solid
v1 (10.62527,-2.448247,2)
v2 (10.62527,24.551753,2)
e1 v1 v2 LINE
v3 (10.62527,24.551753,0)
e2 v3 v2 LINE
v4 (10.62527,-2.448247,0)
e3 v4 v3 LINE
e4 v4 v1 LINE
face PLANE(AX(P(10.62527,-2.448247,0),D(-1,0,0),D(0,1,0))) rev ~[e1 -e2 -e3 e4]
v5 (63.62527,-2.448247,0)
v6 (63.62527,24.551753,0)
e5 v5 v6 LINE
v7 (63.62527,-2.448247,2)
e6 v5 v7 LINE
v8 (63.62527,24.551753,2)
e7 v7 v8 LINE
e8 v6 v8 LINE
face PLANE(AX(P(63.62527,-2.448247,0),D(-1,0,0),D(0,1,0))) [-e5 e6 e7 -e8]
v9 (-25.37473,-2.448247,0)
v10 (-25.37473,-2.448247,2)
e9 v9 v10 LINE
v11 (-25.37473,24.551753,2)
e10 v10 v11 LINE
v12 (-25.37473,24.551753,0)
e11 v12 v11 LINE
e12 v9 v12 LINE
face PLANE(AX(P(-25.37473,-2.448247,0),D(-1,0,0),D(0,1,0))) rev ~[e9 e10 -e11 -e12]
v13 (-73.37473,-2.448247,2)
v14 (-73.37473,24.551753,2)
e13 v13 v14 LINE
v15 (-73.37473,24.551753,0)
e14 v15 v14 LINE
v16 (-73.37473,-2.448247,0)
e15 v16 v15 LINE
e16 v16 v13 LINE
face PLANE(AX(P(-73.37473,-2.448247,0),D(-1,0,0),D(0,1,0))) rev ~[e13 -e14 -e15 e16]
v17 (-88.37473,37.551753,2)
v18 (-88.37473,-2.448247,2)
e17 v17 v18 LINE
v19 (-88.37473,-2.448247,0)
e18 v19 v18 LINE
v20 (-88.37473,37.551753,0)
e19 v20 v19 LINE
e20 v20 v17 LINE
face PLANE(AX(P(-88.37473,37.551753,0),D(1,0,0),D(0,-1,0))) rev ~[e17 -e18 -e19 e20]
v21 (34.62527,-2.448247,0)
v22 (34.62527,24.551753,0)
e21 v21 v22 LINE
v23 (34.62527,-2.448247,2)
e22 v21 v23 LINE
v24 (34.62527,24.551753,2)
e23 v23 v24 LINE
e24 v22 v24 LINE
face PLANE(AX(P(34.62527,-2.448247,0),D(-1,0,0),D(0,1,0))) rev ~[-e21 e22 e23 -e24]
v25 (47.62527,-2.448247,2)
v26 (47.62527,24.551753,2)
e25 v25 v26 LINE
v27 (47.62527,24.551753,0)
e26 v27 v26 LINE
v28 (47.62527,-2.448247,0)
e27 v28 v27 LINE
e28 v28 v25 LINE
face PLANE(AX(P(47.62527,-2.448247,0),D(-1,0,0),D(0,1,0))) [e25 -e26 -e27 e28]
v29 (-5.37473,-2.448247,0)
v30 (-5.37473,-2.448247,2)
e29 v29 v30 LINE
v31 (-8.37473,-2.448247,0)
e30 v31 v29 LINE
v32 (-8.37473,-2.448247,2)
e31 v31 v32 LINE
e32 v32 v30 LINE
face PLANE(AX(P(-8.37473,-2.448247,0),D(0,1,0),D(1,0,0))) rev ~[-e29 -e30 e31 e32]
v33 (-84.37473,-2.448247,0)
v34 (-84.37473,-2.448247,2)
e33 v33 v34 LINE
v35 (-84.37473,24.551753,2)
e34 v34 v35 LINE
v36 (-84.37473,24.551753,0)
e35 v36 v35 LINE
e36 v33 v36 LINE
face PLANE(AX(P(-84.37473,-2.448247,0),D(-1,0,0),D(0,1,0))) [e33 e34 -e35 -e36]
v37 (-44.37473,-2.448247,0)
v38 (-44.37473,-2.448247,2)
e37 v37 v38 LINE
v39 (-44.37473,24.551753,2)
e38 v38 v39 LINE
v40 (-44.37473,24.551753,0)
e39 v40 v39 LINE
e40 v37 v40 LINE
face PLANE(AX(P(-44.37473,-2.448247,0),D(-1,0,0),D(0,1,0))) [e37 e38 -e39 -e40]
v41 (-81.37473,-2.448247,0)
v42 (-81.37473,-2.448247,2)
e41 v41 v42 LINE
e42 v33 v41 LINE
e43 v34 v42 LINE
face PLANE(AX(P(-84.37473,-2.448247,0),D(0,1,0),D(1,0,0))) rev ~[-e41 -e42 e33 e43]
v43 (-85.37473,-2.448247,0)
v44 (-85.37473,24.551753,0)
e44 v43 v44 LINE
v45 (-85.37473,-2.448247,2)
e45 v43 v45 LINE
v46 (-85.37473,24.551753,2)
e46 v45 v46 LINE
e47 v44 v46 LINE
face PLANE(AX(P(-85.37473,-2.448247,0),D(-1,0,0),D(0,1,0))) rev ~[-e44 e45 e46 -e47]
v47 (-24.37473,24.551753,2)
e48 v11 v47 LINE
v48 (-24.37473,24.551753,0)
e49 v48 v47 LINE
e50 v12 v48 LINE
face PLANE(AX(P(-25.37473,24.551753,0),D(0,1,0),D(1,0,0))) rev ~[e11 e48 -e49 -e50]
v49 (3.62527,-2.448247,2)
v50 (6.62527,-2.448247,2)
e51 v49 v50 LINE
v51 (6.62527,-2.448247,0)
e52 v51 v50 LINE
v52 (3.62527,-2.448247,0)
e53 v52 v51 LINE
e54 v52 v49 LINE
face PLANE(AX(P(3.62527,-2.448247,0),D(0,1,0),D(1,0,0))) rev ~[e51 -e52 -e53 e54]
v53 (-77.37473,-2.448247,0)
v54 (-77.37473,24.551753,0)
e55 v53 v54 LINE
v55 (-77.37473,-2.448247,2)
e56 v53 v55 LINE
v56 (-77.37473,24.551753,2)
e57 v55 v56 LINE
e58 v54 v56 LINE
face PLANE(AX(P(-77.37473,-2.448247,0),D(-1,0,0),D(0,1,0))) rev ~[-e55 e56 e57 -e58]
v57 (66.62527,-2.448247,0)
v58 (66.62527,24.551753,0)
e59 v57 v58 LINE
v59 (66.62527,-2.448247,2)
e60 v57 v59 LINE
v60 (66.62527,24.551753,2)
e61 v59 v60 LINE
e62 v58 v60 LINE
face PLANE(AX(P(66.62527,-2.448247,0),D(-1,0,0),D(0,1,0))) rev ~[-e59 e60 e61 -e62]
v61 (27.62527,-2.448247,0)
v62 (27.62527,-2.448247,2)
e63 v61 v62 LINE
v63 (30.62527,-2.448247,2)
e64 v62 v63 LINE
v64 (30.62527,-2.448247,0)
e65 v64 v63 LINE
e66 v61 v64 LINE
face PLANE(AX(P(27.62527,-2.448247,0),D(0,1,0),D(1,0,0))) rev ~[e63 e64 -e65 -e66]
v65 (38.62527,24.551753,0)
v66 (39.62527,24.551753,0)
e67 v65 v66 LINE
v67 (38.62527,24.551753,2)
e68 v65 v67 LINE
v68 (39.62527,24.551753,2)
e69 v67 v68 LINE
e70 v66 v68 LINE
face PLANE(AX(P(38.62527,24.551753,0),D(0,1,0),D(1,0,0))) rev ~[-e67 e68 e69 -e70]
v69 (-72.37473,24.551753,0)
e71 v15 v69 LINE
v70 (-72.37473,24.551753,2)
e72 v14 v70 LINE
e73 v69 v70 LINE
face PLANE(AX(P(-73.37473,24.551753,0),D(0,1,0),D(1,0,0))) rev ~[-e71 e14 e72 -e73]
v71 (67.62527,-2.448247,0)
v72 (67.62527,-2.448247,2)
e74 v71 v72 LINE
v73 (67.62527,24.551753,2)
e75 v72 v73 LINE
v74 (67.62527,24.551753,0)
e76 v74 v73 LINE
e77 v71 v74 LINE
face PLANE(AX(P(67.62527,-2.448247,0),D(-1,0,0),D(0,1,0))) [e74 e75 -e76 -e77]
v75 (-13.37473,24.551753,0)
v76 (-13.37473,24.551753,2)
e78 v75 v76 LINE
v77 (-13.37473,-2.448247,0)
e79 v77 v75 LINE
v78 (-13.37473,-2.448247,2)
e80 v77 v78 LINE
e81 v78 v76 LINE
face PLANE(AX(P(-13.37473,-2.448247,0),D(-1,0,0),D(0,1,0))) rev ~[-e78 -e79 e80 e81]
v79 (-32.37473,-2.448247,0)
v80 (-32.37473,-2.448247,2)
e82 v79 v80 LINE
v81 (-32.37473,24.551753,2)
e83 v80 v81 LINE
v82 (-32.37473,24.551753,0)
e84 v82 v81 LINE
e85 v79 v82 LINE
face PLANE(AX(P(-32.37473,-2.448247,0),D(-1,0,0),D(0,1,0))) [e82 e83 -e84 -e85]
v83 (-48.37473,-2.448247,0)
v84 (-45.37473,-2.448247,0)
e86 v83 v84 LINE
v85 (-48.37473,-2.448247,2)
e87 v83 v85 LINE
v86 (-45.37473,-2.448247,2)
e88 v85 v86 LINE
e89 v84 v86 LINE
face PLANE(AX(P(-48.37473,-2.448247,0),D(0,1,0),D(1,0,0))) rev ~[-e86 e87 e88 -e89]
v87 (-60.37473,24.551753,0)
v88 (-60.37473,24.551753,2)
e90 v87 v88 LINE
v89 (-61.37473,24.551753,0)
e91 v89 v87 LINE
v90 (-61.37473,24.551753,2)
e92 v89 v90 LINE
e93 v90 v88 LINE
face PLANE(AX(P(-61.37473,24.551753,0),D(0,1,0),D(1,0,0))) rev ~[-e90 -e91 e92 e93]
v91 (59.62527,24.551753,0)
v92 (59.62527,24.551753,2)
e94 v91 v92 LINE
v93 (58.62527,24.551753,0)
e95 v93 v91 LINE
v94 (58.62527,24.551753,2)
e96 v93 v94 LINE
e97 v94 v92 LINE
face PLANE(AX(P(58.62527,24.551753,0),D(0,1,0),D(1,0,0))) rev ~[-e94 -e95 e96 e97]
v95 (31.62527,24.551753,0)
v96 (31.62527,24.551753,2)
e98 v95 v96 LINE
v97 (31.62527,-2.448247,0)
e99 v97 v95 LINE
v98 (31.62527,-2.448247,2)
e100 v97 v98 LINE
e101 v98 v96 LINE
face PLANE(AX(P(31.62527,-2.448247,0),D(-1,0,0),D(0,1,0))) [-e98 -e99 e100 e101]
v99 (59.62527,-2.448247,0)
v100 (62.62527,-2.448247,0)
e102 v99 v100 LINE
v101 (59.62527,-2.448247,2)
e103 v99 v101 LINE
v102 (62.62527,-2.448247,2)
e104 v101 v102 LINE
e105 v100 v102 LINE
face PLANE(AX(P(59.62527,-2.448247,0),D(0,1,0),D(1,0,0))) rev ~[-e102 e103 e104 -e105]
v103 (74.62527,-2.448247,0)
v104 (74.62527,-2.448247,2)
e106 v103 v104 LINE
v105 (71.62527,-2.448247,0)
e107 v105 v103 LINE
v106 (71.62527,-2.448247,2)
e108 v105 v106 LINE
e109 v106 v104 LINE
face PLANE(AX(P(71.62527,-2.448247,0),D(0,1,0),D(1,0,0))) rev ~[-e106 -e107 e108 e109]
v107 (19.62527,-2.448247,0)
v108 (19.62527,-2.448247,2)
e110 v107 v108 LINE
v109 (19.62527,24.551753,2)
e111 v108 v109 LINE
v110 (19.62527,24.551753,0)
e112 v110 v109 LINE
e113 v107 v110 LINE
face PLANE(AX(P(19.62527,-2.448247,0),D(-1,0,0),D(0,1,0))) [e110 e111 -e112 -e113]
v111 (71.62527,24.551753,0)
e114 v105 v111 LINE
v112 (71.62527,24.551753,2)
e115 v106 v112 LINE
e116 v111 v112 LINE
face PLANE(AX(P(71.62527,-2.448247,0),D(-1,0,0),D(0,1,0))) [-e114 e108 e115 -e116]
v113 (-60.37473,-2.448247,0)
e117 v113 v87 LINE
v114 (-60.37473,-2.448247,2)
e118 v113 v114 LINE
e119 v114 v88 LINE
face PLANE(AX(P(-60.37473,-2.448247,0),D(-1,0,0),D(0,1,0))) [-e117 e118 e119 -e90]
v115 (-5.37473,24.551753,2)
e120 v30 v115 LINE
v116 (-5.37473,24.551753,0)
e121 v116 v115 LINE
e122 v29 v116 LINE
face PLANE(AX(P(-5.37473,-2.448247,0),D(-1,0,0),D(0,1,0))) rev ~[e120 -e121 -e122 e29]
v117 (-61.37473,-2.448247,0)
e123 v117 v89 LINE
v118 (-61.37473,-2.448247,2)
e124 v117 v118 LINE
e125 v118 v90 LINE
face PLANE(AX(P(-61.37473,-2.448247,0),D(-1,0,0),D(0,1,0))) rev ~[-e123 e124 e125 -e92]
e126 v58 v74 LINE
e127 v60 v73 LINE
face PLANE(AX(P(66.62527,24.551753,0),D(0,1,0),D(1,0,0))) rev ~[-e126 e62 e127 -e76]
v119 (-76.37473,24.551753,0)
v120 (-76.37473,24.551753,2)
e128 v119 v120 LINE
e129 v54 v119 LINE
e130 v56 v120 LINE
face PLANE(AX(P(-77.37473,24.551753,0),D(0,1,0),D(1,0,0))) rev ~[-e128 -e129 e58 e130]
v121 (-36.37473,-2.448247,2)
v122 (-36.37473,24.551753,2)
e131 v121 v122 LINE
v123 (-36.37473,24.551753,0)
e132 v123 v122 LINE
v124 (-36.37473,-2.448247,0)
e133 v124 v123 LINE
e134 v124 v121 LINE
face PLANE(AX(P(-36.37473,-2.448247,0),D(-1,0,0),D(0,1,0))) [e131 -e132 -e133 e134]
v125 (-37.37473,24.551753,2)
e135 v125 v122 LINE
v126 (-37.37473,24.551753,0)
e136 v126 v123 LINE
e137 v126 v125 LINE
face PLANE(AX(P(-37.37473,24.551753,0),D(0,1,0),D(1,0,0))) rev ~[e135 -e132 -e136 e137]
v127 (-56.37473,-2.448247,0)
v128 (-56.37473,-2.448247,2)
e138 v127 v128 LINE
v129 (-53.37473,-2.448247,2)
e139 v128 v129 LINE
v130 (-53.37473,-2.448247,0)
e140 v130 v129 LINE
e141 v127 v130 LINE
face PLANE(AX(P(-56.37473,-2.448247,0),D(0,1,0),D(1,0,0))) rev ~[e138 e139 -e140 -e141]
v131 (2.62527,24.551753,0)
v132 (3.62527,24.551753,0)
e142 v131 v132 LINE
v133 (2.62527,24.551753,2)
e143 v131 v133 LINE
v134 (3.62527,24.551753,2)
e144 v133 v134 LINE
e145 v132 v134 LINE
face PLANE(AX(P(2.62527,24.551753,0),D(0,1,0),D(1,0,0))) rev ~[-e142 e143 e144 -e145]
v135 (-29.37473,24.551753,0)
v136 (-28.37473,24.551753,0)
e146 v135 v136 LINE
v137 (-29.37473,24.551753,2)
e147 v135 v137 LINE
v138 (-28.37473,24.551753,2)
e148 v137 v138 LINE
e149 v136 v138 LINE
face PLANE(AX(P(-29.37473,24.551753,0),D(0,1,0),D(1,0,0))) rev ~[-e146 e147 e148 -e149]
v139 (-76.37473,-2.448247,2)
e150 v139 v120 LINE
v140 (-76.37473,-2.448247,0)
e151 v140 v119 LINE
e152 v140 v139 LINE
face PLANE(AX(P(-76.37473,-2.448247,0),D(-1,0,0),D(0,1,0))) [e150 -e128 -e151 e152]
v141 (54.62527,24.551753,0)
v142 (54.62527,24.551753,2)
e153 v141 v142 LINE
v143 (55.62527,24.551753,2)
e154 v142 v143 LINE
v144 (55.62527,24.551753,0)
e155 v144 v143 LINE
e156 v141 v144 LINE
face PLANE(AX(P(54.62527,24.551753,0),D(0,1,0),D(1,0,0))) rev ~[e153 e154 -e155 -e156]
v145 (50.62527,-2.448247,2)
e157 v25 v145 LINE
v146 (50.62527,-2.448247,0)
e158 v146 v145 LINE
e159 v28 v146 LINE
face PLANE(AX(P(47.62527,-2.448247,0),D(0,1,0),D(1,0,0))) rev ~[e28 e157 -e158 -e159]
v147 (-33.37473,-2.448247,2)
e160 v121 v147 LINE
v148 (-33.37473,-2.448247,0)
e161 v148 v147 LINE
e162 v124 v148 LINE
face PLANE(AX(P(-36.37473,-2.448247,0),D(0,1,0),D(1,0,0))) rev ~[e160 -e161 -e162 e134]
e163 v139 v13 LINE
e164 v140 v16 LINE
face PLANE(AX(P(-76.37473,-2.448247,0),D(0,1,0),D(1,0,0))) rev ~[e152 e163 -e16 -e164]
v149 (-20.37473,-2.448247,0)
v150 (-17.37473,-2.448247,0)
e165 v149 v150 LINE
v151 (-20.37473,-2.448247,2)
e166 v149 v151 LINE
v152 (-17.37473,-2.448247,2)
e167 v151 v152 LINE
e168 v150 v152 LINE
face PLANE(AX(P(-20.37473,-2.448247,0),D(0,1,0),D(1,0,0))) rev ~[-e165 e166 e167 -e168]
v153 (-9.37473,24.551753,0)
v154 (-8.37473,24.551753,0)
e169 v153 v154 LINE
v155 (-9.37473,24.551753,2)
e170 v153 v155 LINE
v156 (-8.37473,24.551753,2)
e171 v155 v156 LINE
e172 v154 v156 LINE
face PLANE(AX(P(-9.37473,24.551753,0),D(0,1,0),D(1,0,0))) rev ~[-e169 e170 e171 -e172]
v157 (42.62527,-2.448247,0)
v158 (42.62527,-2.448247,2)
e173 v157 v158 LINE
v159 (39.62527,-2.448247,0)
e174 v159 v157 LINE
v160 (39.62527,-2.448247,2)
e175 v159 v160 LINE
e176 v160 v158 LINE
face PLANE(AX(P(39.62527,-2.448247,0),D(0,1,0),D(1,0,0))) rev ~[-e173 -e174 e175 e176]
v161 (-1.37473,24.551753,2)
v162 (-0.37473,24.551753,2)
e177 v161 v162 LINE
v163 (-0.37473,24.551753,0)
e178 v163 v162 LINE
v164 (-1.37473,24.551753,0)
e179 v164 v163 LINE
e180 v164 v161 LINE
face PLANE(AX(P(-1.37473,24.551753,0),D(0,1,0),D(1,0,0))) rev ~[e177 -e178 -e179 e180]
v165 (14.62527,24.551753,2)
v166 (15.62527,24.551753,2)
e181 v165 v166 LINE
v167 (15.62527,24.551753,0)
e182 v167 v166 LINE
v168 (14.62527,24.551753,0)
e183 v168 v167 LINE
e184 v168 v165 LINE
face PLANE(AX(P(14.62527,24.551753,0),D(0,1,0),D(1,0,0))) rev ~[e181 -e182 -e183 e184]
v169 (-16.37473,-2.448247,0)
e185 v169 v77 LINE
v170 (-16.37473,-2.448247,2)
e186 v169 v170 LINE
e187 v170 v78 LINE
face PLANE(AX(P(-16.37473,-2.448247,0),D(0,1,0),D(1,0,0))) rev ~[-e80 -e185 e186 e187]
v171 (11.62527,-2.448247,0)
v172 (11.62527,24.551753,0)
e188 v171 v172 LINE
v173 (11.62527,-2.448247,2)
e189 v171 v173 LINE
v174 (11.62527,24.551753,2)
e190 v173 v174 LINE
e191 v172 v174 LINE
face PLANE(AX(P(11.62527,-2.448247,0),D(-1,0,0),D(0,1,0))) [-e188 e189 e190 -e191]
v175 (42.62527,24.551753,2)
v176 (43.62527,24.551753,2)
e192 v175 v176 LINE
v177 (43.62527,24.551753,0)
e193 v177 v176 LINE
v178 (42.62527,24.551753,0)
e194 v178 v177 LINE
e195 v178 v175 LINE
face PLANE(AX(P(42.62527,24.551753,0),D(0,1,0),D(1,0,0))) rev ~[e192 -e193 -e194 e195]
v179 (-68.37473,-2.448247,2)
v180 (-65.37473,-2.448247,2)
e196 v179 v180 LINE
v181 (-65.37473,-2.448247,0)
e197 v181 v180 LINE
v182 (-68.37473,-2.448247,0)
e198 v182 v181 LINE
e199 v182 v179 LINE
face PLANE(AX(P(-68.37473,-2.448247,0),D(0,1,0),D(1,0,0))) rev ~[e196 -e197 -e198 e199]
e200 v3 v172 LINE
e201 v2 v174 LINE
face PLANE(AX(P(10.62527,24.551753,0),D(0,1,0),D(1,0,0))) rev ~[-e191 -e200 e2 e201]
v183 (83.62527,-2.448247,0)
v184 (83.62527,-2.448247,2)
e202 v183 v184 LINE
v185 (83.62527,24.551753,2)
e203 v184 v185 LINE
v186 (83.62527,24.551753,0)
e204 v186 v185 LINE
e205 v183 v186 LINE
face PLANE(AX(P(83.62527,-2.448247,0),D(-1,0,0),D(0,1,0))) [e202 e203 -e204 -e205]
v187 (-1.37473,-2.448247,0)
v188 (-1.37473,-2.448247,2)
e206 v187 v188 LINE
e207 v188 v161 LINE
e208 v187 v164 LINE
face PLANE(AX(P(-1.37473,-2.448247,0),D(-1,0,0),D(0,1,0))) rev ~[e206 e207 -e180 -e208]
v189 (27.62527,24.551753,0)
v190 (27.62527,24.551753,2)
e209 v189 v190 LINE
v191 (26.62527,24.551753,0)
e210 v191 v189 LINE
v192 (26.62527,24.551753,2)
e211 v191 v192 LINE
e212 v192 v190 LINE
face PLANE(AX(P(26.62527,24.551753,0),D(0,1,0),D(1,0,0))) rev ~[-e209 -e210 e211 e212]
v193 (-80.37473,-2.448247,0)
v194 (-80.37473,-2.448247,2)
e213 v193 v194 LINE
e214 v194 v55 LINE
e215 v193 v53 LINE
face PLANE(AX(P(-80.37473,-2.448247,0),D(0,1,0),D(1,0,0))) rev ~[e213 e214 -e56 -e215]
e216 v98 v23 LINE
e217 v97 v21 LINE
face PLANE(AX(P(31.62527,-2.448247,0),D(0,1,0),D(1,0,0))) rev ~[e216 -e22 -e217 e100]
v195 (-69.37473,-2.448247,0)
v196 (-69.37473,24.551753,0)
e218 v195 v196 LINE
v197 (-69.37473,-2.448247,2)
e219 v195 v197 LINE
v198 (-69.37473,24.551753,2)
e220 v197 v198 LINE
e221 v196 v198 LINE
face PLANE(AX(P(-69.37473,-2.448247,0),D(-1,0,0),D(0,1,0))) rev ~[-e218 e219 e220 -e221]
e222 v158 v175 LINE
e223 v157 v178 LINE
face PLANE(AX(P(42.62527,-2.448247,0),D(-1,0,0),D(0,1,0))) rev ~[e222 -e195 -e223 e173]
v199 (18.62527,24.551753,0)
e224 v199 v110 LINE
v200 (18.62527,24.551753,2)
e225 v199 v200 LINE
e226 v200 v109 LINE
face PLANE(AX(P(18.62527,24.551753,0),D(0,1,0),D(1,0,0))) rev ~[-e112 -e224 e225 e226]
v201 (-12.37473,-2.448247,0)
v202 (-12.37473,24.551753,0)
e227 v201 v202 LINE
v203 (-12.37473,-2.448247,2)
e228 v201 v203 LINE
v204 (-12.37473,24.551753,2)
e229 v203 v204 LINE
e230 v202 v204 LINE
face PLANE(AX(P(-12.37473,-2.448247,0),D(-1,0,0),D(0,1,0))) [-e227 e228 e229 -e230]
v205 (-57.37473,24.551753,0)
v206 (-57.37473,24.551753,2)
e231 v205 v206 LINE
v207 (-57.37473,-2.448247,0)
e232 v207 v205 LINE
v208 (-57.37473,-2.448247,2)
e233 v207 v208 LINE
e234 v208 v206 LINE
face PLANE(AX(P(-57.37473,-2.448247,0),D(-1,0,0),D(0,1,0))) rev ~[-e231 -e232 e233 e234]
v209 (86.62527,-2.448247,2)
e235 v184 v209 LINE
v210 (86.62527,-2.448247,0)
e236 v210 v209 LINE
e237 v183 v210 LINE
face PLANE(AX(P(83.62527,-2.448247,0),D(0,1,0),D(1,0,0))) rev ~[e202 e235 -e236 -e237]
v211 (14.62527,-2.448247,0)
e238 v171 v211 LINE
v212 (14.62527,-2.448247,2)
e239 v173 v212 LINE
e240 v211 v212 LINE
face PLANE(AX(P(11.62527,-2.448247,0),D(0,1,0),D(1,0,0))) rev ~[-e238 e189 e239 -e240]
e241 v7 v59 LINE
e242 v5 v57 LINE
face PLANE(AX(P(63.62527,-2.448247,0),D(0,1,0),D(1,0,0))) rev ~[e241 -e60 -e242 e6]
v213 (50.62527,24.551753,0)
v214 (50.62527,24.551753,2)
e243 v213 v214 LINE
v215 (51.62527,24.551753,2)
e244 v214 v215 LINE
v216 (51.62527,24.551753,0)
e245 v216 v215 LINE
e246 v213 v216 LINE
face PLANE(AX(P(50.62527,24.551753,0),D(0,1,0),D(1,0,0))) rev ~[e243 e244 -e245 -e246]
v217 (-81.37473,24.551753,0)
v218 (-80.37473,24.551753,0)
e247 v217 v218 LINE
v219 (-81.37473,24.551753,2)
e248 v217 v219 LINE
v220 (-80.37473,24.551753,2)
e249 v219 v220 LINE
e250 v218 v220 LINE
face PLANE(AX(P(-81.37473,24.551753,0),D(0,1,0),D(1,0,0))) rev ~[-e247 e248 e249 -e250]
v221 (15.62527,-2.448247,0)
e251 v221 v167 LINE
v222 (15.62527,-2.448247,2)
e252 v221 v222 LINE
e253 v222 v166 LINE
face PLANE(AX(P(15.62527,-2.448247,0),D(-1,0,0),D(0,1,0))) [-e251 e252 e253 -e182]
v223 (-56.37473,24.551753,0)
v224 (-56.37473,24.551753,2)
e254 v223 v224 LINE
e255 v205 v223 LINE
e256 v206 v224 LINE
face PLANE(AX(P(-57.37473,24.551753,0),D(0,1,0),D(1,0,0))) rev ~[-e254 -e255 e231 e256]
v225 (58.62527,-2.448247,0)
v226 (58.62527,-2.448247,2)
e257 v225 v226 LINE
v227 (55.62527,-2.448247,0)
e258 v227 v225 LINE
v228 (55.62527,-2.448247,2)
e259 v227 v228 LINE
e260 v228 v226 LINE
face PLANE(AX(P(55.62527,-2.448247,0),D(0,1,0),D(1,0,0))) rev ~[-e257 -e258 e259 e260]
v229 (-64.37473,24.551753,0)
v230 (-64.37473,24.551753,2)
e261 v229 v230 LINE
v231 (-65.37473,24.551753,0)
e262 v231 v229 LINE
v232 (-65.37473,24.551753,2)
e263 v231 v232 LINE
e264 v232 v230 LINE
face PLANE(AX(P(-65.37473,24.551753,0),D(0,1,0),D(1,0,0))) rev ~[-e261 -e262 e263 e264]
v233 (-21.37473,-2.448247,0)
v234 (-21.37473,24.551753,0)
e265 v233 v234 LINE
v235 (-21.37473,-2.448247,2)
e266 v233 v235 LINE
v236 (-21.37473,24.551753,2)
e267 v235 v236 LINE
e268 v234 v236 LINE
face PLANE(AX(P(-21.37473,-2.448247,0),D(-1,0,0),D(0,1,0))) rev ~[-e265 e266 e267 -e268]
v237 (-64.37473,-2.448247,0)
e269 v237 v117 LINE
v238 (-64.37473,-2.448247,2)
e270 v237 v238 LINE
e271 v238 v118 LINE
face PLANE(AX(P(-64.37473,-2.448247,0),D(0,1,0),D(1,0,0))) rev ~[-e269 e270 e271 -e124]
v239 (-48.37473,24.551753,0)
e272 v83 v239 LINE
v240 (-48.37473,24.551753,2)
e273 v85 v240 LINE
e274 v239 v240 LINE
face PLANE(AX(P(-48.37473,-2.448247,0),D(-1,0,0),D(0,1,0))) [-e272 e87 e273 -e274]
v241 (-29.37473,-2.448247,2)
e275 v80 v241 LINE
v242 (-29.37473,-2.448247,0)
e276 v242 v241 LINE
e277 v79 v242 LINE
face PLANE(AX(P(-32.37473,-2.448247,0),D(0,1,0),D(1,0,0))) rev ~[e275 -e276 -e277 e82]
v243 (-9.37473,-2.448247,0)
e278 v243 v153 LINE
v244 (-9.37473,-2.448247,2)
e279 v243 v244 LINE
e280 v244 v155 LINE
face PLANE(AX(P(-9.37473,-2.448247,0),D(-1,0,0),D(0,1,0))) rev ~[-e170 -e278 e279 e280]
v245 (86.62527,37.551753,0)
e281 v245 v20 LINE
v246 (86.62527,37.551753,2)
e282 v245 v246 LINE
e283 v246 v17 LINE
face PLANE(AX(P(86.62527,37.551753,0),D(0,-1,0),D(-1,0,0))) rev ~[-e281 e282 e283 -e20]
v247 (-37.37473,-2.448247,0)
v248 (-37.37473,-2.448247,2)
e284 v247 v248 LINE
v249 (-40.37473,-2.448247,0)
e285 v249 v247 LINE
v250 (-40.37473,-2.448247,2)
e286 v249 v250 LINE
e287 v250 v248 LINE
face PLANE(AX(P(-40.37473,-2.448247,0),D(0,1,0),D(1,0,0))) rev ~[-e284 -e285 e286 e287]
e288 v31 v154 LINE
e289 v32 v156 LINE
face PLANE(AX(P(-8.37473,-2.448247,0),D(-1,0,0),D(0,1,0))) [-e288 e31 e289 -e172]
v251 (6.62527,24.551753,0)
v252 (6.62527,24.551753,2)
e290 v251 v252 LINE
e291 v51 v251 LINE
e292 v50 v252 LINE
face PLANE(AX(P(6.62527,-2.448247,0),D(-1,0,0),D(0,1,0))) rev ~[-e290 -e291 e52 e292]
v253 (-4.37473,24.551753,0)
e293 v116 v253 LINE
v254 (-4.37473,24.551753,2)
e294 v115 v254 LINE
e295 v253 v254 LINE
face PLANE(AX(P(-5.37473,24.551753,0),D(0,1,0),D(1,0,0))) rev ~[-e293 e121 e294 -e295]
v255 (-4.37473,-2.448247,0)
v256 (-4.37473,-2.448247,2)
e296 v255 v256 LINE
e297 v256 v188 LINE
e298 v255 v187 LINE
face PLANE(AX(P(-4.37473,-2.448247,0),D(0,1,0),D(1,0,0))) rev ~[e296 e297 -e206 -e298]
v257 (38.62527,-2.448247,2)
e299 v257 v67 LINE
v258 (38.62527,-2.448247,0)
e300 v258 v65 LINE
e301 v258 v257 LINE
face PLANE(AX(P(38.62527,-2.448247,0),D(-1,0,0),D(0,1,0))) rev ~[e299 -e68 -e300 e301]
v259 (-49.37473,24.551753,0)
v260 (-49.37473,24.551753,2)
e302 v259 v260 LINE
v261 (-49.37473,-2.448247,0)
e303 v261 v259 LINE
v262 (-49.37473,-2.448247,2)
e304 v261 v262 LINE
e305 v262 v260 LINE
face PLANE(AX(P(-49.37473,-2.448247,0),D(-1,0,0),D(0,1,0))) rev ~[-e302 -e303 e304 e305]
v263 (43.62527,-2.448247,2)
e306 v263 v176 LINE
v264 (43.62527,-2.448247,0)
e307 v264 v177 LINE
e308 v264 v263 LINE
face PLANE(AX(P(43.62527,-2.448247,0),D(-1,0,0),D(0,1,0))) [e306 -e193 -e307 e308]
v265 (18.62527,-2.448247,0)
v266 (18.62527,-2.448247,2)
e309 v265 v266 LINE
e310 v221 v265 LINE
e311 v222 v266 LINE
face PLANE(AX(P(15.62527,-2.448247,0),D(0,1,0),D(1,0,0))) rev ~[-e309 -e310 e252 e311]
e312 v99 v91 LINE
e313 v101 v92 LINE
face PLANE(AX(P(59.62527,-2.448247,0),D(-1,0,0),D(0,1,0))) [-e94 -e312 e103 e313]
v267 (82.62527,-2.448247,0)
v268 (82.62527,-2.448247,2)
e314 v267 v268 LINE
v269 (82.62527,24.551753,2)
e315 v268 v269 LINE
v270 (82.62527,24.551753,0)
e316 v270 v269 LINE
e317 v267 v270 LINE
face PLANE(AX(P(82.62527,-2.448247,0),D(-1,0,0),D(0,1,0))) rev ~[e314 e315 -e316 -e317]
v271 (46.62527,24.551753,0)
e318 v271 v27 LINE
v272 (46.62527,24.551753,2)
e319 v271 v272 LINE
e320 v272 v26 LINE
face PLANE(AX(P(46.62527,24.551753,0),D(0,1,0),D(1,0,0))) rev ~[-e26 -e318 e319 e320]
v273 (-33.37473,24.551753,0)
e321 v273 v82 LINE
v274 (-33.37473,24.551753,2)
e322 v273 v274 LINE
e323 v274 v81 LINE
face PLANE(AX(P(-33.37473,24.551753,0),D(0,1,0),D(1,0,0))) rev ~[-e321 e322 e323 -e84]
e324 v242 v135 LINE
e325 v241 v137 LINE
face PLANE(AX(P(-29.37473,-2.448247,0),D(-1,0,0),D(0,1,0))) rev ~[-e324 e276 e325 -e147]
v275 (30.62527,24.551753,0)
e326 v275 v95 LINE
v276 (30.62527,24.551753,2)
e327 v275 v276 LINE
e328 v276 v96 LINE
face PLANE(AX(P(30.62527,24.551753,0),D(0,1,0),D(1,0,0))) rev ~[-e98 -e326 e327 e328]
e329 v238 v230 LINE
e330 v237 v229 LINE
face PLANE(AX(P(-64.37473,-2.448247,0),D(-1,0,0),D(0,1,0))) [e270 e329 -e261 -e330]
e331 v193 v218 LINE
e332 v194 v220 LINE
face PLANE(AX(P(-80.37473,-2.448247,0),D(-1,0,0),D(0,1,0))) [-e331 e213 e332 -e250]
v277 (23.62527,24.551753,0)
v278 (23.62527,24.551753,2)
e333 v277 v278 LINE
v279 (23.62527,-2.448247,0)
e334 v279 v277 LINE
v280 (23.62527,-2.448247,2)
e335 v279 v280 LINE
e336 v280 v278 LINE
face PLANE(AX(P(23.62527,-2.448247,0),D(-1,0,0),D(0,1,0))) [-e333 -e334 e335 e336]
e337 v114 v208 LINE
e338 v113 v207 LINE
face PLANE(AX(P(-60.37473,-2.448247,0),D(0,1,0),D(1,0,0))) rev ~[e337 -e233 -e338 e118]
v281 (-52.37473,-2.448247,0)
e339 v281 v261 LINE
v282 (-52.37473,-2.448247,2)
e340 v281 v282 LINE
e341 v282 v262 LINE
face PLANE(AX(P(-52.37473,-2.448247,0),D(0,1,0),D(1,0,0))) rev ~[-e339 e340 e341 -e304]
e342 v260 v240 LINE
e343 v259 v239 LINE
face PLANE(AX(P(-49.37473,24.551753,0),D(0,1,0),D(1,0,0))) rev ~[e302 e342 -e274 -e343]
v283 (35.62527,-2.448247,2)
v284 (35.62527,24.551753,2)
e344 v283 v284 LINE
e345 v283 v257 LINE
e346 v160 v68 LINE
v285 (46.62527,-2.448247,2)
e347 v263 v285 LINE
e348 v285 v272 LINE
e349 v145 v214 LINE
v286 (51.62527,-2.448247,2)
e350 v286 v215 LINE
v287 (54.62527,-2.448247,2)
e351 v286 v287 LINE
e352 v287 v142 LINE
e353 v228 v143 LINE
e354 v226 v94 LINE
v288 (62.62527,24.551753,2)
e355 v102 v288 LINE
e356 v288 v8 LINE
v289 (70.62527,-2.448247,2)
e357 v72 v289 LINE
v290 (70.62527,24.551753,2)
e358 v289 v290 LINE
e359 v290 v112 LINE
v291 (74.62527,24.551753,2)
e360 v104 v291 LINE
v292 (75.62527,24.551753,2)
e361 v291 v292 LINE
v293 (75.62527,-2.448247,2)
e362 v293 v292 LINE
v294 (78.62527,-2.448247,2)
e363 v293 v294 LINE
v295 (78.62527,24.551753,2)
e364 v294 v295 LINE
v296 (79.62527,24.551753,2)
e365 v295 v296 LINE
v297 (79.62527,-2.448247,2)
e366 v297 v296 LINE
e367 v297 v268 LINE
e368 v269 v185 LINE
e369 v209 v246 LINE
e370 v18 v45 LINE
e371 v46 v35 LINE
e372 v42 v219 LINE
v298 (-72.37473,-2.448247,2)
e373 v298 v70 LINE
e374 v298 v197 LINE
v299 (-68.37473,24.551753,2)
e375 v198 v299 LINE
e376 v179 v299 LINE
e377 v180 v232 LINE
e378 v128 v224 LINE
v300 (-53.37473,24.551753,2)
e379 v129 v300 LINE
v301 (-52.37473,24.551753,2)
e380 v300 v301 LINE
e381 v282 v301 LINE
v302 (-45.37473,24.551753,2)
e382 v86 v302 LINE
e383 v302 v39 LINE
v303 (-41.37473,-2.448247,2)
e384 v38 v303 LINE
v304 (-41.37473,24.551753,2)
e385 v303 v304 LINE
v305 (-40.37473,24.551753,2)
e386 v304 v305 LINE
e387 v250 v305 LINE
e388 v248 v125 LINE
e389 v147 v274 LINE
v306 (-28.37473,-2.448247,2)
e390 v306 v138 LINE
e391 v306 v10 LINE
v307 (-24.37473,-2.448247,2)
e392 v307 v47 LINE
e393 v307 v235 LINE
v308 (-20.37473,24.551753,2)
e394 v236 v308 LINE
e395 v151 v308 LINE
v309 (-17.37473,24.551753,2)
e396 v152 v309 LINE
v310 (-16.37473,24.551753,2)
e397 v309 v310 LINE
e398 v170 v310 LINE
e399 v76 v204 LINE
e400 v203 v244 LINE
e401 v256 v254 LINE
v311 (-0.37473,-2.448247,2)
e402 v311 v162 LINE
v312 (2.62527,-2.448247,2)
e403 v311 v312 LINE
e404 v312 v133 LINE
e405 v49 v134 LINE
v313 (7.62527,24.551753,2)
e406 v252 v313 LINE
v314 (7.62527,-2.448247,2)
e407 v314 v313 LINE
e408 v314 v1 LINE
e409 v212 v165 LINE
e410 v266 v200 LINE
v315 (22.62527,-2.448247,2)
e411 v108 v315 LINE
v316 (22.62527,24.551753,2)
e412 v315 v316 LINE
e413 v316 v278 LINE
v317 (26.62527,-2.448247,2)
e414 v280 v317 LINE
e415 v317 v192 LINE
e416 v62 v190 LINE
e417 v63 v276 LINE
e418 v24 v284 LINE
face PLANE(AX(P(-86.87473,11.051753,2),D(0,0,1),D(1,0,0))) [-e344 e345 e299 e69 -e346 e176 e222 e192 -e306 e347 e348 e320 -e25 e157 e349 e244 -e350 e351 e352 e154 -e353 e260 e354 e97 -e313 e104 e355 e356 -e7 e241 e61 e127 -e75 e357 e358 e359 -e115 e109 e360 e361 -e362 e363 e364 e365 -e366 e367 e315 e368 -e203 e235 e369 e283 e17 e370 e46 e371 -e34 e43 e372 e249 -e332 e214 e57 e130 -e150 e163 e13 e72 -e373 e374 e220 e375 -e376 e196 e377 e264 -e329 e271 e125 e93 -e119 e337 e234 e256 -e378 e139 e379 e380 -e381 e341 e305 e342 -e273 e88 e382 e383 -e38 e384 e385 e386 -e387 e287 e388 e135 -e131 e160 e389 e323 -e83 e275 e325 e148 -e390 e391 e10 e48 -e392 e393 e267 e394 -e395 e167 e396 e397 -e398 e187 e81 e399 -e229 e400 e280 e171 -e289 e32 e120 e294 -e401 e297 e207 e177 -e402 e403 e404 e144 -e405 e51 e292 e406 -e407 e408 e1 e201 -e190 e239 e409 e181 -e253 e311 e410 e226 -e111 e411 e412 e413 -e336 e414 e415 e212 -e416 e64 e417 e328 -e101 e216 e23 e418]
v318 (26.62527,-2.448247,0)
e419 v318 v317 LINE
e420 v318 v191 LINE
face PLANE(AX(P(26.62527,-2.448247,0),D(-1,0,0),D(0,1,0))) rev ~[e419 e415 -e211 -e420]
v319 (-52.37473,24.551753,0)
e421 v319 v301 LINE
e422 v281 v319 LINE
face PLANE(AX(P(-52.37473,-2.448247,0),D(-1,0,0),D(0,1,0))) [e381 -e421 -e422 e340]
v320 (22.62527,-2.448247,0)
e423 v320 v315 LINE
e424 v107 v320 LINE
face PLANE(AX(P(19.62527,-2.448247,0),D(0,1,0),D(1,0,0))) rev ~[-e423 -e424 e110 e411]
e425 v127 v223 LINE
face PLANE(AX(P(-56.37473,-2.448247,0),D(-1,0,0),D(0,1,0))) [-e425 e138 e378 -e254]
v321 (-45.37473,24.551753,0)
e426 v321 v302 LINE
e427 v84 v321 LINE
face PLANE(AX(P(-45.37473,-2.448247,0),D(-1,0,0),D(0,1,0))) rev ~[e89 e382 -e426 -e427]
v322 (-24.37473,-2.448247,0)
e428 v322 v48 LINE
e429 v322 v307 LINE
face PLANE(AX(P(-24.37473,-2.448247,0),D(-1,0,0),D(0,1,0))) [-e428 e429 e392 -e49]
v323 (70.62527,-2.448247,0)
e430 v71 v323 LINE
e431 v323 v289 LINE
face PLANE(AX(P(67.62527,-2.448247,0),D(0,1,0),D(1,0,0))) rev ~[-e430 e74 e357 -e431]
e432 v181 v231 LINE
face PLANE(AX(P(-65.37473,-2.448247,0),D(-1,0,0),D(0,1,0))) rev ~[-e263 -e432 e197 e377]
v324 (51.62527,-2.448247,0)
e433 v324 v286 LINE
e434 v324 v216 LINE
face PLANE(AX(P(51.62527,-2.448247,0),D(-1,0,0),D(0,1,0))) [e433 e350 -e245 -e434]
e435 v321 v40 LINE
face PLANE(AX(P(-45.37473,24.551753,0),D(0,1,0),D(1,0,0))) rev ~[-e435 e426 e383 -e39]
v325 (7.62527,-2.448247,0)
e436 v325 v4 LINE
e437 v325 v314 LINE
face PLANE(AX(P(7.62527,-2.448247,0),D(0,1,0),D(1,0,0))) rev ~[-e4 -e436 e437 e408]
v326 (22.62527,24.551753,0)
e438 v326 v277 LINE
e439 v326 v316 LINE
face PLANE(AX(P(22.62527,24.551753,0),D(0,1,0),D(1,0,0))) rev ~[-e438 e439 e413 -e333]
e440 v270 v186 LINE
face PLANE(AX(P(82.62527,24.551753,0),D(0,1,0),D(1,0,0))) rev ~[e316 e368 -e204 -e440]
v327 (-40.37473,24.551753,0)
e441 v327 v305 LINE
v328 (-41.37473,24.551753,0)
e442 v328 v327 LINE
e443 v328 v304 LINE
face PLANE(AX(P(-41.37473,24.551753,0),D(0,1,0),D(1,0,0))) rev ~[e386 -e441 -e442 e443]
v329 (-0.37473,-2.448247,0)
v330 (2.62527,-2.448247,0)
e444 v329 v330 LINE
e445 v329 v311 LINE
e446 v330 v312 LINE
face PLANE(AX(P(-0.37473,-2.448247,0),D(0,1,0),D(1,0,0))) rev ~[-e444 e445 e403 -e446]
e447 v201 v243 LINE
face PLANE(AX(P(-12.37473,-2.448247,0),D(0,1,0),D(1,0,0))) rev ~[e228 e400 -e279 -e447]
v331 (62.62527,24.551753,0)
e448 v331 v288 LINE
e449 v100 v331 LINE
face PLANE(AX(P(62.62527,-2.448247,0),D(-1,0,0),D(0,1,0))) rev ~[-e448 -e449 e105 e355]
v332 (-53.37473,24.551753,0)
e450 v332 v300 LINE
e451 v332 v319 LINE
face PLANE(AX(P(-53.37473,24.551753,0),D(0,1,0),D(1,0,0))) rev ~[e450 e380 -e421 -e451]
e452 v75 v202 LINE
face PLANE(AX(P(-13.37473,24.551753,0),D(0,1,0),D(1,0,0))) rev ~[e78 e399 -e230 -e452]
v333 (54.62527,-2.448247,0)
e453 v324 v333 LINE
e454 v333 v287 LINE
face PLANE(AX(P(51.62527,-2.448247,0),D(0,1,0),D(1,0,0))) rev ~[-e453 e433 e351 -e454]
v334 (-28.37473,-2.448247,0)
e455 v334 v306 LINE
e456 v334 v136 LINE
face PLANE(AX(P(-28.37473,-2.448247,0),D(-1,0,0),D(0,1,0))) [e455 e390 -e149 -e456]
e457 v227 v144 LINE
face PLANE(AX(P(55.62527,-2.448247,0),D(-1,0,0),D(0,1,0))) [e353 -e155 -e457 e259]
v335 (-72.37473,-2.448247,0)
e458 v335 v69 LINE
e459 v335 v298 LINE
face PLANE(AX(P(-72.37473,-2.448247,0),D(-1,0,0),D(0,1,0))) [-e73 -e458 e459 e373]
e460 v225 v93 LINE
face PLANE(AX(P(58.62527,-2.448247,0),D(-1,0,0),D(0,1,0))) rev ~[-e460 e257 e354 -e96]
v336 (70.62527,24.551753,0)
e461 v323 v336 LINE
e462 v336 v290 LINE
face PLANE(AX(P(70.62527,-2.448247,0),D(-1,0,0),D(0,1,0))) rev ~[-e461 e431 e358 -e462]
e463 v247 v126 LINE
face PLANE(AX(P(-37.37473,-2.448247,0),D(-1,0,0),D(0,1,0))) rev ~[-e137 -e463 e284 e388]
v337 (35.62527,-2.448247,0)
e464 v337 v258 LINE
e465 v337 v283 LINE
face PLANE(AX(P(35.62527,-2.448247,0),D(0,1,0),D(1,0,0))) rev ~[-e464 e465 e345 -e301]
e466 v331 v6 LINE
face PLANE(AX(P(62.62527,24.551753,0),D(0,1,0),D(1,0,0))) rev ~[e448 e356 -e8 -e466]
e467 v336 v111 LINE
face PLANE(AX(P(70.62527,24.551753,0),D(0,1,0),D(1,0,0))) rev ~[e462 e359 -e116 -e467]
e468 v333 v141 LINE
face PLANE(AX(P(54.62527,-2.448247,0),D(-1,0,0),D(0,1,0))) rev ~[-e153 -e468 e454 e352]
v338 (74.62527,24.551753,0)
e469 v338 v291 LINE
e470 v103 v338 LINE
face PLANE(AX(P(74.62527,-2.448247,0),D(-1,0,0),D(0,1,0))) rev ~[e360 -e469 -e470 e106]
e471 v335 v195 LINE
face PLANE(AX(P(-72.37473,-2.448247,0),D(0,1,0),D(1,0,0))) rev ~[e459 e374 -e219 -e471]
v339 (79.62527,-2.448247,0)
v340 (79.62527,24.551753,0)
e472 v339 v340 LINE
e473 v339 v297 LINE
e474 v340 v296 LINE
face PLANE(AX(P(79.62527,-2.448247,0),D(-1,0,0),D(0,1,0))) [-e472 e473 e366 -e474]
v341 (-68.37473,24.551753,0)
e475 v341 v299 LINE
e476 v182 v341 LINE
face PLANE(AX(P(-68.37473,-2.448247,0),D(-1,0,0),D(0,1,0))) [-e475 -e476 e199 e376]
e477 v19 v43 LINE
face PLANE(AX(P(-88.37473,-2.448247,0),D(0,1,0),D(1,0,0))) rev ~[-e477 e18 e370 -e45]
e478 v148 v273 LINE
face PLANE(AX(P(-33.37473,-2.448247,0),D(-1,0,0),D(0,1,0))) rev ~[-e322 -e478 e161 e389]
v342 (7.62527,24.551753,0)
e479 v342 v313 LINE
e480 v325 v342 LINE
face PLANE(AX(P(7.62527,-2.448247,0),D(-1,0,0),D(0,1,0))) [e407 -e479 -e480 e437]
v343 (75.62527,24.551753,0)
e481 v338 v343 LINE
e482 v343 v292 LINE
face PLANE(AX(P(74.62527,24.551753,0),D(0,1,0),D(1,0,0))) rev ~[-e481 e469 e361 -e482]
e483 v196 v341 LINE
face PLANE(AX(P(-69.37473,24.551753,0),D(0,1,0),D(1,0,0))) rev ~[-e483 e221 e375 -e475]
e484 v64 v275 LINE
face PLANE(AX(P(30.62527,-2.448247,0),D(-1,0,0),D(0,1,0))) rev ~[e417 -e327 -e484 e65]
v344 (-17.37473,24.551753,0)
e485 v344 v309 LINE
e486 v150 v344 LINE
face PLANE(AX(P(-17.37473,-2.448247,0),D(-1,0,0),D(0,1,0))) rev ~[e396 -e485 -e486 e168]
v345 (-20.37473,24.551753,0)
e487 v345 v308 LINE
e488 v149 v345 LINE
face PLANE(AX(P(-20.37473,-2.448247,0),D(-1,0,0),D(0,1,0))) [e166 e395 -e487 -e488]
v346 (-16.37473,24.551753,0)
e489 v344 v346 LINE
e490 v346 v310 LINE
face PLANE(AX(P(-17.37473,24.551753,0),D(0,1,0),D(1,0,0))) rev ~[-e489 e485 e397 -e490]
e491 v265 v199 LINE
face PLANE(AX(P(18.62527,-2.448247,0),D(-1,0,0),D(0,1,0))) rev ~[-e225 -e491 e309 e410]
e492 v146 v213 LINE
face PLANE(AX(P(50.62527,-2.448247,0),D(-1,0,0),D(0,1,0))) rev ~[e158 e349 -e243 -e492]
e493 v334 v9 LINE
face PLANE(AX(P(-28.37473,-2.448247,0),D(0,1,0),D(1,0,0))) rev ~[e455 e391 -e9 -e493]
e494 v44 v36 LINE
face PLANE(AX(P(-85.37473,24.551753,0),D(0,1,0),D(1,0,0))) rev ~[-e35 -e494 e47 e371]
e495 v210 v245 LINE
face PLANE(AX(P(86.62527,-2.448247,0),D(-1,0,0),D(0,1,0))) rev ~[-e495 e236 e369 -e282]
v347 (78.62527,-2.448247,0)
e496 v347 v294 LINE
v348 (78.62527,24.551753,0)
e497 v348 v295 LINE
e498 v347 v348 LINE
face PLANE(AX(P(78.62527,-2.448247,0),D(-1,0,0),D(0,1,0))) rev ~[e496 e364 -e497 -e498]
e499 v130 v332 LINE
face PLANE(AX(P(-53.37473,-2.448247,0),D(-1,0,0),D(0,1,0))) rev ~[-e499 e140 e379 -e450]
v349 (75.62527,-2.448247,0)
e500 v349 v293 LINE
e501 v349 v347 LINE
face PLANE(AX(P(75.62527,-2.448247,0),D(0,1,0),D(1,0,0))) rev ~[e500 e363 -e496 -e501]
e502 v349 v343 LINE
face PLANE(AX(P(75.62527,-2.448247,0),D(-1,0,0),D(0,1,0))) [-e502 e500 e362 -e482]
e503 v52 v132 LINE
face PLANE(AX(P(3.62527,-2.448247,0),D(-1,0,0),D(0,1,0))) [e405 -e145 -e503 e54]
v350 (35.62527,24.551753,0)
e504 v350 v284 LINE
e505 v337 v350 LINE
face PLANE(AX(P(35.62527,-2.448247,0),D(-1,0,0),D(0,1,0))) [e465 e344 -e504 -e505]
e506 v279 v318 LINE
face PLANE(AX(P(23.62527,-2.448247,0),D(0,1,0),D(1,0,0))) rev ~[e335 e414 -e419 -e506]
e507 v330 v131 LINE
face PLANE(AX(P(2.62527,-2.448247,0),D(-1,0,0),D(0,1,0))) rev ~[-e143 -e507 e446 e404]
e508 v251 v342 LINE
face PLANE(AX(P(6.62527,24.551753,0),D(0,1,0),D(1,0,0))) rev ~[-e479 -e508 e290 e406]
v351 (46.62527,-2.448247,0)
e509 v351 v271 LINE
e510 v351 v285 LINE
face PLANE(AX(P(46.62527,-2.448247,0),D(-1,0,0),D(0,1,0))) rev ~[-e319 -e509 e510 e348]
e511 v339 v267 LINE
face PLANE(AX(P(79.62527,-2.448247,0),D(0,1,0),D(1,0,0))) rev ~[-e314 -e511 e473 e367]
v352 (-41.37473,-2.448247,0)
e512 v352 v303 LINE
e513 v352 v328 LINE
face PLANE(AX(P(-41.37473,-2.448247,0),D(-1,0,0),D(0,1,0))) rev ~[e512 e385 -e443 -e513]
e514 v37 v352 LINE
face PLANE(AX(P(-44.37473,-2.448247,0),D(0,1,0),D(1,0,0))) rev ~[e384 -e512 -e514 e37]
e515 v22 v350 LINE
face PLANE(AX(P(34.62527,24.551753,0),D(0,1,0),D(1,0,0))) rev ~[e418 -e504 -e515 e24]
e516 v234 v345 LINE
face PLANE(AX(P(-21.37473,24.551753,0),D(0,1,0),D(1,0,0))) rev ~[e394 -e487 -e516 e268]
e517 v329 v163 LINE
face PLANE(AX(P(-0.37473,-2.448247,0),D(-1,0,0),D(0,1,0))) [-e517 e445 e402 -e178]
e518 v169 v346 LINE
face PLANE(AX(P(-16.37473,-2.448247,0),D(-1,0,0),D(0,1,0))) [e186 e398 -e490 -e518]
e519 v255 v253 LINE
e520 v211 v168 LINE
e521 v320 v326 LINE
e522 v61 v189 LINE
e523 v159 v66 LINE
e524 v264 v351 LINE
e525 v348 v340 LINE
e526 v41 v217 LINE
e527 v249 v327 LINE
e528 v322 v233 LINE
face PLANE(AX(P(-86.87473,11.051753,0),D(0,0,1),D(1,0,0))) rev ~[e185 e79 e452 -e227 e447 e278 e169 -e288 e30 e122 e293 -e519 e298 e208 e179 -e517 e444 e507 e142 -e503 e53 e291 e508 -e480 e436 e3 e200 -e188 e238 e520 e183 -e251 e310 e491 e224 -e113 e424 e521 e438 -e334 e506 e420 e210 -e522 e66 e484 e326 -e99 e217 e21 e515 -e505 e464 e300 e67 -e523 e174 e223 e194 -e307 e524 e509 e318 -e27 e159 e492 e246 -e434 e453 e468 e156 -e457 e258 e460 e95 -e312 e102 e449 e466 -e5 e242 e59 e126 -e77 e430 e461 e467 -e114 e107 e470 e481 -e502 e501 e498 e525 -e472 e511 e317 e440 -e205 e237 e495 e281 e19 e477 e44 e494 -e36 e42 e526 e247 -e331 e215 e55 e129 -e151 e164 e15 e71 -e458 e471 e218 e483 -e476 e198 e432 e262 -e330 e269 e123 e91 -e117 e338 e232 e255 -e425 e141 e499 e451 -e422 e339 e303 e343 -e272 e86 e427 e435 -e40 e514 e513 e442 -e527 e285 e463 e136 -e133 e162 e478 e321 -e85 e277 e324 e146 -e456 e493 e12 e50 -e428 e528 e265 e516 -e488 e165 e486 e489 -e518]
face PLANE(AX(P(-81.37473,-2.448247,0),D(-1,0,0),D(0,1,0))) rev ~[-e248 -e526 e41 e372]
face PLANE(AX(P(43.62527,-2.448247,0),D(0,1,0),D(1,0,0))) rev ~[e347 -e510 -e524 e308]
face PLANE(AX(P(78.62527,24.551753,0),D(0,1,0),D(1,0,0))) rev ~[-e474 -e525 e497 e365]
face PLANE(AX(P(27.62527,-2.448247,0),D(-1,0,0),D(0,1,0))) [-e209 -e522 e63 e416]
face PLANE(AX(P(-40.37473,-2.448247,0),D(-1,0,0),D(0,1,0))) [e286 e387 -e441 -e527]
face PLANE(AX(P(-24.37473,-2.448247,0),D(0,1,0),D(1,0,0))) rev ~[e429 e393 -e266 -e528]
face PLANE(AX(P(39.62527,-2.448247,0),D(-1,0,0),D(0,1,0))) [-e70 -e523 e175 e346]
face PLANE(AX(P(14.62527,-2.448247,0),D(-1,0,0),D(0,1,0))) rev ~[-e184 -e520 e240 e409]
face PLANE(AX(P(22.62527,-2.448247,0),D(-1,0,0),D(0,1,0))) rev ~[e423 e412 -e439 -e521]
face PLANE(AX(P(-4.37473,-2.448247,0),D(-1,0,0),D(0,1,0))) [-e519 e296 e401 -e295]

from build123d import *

# Parameters (mm, degrees)
F0_W     = 3
F0_H     = 27
F1_DEPTH = 2


with BuildPart() as f1:
    # F0 (on Top) → F1 (new body)
    with BuildSketch(Plane.XY):
        with Locations((-86.87473, 11.051753)):
            Rectangle(F0_W, F0_H)
        with Locations((-82.87473, 11.051753)):
            Rectangle(F0_W, F0_H)
        with Locations((-78.87473, 11.051753)):
            Rectangle(F0_W, F0_H)
        with Locations((-74.87473, 11.051753)):
            Rectangle(F0_W, F0_H)
        with Locations((-70.87473, 11.051753)):
            Rectangle(F0_W, F0_H)
        with Locations((-66.87473, 11.051753)):
            Rectangle(F0_W, F0_H)
        with Locations((-62.87473, 11.051753)):
            Rectangle(F0_W, F0_H)
        with Locations((-58.87473, 11.051753)):
            Rectangle(F0_W, F0_H)
        with Locations((-54.87473, 11.051753)):
            Rectangle(F0_W, F0_H)
        with Locations((-50.87473, 11.051753)):
            Rectangle(F0_W, F0_H)
        with Locations((-46.87473, 11.051753)):
            Rectangle(F0_W, F0_H)
        with Locations((-42.87473, 11.051753)):
            Rectangle(F0_W, F0_H)
        with Locations((-38.87473, 11.051753)):
            Rectangle(F0_W, F0_H)
        with Locations((-34.87473, 11.051753)):
            Rectangle(F0_W, F0_H)
        with Locations((-30.87473, 11.051753)):
            Rectangle(F0_W, F0_H)
        with Locations((-26.87473, 11.051753)):
            Rectangle(F0_W, F0_H)
        with Locations((-22.87473, 11.051753)):
            Rectangle(F0_W, F0_H)
        with Locations((-18.87473, 11.051753)):
            Rectangle(F0_W, F0_H)
        with Locations((-14.87473, 11.051753)):
            Rectangle(F0_W, F0_H)
        with Locations((-10.87473, 11.051753)):
            Rectangle(F0_W, F0_H)
        with Locations((-6.87473, 11.051753)):
            Rectangle(F0_W, F0_H)
        with Locations((-2.87473, 11.051753)):
            Rectangle(F0_W, F0_H)
        with Locations((1.12527, 11.051753)):
            Rectangle(F0_W, F0_H)
        with Locations((5.12527, 11.051753)):
            Rectangle(F0_W, F0_H)
        with Locations((9.12527, 11.051753)):
            Rectangle(F0_W, F0_H)
        with Locations((13.12527, 11.051753)):
            Rectangle(F0_W, F0_H)
        with Locations((17.12527, 11.051753)):
            Rectangle(F0_W, F0_H)
        with Locations((21.12527, 11.051753)):
            Rectangle(F0_W, F0_H)
        with Locations((25.12527, 11.051753)):
            Rectangle(F0_W, F0_H)
        with Locations((29.12527, 11.051753)):
            Rectangle(F0_W, F0_H)
        with Locations((33.12527, 11.051753)):
            Rectangle(F0_W, F0_H)
        with Locations((37.12527, 11.051753)):
            Rectangle(F0_W, F0_H)
        with Locations((41.12527, 11.051753)):
            Rectangle(F0_W, F0_H)
        with Locations((45.12527, 11.051753)):
            Rectangle(F0_W, F0_H)
        with Locations((49.12527, 11.051753)):
            Rectangle(F0_W, F0_H)
        with Locations((53.12527, 11.051753)):
            Rectangle(F0_W, F0_H)
        with Locations((57.12527, 11.051753)):
            Rectangle(F0_W, F0_H)
        with Locations((61.12527, 11.051753)):
            Rectangle(F0_W, F0_H)
        with Locations((65.12527, 11.051753)):
            Rectangle(F0_W, F0_H)
        with Locations((69.12527, 11.051753)):
            Rectangle(F0_W, F0_H)
        with Locations((73.12527, 11.051753)):
            Rectangle(F0_W, F0_H)
        with Locations((77.12527, 11.051753)):
            Rectangle(F0_W, F0_H)
        with Locations((81.12527, 11.051753)):
            Rectangle(F0_W, F0_H)
        with Locations((85.12527, 11.051753)):
            Rectangle(F0_W, F0_H)
        Polygon((86.62527, 37.551753), (-88.37473, 37.551753), (-88.37473, 24.551753), (-85.37473, 24.551753), (-84.37473, 24.551753), (-81.37473, 24.551753), (-80.37473, 24.551753), (-77.37473, 24.551753), (-76.37473, 24.551753), (-73.37473, 24.551753), (-72.37473, 24.551753), (-69.37473, 24.551753), (-68.37473, 24.551753), (-65.37473, 24.551753), (-64.37473, 24.551753), (-61.37473, 24.551753), (-60.37473, 24.551753), (-57.37473, 24.551753), (-56.37473, 24.551753), (-53.37473, 24.551753), (-52.37473, 24.551753), (-49.37473, 24.551753), (-48.37473, 24.551753), (-45.37473, 24.551753), (-44.37473, 24.551753), (-41.37473, 24.551753), (-40.37473, 24.551753), (-37.37473, 24.551753), (-36.37473, 24.551753), (-33.37473, 24.551753), (-32.37473, 24.551753), (-29.37473, 24.551753), (-28.37473, 24.551753), (-25.37473, 24.551753), (-24.37473, 24.551753), (-21.37473, 24.551753), (-20.37473, 24.551753), (-17.37473, 24.551753), (-16.37473, 24.551753), (-13.37473, 24.551753), (-12.37473, 24.551753), (-9.37473, 24.551753), (-8.37473, 24.551753), (-5.37473, 24.551753), (-4.37473, 24.551753), (-1.37473, 24.551753), (-0.37473, 24.551753), (2.62527, 24.551753), (3.62527, 24.551753), (6.62527, 24.551753), (7.62527, 24.551753), (10.62527, 24.551753), (11.62527, 24.551753), (14.62527, 24.551753), (15.62527, 24.551753), (18.62527, 24.551753), (19.62527, 24.551753), (22.62527, 24.551753), (23.62527, 24.551753), (26.62527, 24.551753), (27.62527, 24.551753), (30.62527, 24.551753), (31.62527, 24.551753), (34.62527, 24.551753), (35.62527, 24.551753), (38.62527, 24.551753), (39.62527, 24.551753), (42.62527, 24.551753), (43.62527, 24.551753), (46.62527, 24.551753), (47.62527, 24.551753), (50.62527, 24.551753), (51.62527, 24.551753), (54.62527, 24.551753), (55.62527, 24.551753), (58.62527, 24.551753), (59.62527, 24.551753), (62.62527, 24.551753), (63.62527, 24.551753), (66.62527, 24.551753), (67.62527, 24.551753), (70.62527, 24.551753), (71.62527, 24.551753), (74.62527, 24.551753), (75.62527, 24.551753), (78.62527, 24.551753), (79.62527, 24.551753), (82.62527, 24.551753), (83.62527, 24.551753), (86.62527, 24.551753), align=None)
    extrude(amount=F1_DEPTH)


solid = f1.part
